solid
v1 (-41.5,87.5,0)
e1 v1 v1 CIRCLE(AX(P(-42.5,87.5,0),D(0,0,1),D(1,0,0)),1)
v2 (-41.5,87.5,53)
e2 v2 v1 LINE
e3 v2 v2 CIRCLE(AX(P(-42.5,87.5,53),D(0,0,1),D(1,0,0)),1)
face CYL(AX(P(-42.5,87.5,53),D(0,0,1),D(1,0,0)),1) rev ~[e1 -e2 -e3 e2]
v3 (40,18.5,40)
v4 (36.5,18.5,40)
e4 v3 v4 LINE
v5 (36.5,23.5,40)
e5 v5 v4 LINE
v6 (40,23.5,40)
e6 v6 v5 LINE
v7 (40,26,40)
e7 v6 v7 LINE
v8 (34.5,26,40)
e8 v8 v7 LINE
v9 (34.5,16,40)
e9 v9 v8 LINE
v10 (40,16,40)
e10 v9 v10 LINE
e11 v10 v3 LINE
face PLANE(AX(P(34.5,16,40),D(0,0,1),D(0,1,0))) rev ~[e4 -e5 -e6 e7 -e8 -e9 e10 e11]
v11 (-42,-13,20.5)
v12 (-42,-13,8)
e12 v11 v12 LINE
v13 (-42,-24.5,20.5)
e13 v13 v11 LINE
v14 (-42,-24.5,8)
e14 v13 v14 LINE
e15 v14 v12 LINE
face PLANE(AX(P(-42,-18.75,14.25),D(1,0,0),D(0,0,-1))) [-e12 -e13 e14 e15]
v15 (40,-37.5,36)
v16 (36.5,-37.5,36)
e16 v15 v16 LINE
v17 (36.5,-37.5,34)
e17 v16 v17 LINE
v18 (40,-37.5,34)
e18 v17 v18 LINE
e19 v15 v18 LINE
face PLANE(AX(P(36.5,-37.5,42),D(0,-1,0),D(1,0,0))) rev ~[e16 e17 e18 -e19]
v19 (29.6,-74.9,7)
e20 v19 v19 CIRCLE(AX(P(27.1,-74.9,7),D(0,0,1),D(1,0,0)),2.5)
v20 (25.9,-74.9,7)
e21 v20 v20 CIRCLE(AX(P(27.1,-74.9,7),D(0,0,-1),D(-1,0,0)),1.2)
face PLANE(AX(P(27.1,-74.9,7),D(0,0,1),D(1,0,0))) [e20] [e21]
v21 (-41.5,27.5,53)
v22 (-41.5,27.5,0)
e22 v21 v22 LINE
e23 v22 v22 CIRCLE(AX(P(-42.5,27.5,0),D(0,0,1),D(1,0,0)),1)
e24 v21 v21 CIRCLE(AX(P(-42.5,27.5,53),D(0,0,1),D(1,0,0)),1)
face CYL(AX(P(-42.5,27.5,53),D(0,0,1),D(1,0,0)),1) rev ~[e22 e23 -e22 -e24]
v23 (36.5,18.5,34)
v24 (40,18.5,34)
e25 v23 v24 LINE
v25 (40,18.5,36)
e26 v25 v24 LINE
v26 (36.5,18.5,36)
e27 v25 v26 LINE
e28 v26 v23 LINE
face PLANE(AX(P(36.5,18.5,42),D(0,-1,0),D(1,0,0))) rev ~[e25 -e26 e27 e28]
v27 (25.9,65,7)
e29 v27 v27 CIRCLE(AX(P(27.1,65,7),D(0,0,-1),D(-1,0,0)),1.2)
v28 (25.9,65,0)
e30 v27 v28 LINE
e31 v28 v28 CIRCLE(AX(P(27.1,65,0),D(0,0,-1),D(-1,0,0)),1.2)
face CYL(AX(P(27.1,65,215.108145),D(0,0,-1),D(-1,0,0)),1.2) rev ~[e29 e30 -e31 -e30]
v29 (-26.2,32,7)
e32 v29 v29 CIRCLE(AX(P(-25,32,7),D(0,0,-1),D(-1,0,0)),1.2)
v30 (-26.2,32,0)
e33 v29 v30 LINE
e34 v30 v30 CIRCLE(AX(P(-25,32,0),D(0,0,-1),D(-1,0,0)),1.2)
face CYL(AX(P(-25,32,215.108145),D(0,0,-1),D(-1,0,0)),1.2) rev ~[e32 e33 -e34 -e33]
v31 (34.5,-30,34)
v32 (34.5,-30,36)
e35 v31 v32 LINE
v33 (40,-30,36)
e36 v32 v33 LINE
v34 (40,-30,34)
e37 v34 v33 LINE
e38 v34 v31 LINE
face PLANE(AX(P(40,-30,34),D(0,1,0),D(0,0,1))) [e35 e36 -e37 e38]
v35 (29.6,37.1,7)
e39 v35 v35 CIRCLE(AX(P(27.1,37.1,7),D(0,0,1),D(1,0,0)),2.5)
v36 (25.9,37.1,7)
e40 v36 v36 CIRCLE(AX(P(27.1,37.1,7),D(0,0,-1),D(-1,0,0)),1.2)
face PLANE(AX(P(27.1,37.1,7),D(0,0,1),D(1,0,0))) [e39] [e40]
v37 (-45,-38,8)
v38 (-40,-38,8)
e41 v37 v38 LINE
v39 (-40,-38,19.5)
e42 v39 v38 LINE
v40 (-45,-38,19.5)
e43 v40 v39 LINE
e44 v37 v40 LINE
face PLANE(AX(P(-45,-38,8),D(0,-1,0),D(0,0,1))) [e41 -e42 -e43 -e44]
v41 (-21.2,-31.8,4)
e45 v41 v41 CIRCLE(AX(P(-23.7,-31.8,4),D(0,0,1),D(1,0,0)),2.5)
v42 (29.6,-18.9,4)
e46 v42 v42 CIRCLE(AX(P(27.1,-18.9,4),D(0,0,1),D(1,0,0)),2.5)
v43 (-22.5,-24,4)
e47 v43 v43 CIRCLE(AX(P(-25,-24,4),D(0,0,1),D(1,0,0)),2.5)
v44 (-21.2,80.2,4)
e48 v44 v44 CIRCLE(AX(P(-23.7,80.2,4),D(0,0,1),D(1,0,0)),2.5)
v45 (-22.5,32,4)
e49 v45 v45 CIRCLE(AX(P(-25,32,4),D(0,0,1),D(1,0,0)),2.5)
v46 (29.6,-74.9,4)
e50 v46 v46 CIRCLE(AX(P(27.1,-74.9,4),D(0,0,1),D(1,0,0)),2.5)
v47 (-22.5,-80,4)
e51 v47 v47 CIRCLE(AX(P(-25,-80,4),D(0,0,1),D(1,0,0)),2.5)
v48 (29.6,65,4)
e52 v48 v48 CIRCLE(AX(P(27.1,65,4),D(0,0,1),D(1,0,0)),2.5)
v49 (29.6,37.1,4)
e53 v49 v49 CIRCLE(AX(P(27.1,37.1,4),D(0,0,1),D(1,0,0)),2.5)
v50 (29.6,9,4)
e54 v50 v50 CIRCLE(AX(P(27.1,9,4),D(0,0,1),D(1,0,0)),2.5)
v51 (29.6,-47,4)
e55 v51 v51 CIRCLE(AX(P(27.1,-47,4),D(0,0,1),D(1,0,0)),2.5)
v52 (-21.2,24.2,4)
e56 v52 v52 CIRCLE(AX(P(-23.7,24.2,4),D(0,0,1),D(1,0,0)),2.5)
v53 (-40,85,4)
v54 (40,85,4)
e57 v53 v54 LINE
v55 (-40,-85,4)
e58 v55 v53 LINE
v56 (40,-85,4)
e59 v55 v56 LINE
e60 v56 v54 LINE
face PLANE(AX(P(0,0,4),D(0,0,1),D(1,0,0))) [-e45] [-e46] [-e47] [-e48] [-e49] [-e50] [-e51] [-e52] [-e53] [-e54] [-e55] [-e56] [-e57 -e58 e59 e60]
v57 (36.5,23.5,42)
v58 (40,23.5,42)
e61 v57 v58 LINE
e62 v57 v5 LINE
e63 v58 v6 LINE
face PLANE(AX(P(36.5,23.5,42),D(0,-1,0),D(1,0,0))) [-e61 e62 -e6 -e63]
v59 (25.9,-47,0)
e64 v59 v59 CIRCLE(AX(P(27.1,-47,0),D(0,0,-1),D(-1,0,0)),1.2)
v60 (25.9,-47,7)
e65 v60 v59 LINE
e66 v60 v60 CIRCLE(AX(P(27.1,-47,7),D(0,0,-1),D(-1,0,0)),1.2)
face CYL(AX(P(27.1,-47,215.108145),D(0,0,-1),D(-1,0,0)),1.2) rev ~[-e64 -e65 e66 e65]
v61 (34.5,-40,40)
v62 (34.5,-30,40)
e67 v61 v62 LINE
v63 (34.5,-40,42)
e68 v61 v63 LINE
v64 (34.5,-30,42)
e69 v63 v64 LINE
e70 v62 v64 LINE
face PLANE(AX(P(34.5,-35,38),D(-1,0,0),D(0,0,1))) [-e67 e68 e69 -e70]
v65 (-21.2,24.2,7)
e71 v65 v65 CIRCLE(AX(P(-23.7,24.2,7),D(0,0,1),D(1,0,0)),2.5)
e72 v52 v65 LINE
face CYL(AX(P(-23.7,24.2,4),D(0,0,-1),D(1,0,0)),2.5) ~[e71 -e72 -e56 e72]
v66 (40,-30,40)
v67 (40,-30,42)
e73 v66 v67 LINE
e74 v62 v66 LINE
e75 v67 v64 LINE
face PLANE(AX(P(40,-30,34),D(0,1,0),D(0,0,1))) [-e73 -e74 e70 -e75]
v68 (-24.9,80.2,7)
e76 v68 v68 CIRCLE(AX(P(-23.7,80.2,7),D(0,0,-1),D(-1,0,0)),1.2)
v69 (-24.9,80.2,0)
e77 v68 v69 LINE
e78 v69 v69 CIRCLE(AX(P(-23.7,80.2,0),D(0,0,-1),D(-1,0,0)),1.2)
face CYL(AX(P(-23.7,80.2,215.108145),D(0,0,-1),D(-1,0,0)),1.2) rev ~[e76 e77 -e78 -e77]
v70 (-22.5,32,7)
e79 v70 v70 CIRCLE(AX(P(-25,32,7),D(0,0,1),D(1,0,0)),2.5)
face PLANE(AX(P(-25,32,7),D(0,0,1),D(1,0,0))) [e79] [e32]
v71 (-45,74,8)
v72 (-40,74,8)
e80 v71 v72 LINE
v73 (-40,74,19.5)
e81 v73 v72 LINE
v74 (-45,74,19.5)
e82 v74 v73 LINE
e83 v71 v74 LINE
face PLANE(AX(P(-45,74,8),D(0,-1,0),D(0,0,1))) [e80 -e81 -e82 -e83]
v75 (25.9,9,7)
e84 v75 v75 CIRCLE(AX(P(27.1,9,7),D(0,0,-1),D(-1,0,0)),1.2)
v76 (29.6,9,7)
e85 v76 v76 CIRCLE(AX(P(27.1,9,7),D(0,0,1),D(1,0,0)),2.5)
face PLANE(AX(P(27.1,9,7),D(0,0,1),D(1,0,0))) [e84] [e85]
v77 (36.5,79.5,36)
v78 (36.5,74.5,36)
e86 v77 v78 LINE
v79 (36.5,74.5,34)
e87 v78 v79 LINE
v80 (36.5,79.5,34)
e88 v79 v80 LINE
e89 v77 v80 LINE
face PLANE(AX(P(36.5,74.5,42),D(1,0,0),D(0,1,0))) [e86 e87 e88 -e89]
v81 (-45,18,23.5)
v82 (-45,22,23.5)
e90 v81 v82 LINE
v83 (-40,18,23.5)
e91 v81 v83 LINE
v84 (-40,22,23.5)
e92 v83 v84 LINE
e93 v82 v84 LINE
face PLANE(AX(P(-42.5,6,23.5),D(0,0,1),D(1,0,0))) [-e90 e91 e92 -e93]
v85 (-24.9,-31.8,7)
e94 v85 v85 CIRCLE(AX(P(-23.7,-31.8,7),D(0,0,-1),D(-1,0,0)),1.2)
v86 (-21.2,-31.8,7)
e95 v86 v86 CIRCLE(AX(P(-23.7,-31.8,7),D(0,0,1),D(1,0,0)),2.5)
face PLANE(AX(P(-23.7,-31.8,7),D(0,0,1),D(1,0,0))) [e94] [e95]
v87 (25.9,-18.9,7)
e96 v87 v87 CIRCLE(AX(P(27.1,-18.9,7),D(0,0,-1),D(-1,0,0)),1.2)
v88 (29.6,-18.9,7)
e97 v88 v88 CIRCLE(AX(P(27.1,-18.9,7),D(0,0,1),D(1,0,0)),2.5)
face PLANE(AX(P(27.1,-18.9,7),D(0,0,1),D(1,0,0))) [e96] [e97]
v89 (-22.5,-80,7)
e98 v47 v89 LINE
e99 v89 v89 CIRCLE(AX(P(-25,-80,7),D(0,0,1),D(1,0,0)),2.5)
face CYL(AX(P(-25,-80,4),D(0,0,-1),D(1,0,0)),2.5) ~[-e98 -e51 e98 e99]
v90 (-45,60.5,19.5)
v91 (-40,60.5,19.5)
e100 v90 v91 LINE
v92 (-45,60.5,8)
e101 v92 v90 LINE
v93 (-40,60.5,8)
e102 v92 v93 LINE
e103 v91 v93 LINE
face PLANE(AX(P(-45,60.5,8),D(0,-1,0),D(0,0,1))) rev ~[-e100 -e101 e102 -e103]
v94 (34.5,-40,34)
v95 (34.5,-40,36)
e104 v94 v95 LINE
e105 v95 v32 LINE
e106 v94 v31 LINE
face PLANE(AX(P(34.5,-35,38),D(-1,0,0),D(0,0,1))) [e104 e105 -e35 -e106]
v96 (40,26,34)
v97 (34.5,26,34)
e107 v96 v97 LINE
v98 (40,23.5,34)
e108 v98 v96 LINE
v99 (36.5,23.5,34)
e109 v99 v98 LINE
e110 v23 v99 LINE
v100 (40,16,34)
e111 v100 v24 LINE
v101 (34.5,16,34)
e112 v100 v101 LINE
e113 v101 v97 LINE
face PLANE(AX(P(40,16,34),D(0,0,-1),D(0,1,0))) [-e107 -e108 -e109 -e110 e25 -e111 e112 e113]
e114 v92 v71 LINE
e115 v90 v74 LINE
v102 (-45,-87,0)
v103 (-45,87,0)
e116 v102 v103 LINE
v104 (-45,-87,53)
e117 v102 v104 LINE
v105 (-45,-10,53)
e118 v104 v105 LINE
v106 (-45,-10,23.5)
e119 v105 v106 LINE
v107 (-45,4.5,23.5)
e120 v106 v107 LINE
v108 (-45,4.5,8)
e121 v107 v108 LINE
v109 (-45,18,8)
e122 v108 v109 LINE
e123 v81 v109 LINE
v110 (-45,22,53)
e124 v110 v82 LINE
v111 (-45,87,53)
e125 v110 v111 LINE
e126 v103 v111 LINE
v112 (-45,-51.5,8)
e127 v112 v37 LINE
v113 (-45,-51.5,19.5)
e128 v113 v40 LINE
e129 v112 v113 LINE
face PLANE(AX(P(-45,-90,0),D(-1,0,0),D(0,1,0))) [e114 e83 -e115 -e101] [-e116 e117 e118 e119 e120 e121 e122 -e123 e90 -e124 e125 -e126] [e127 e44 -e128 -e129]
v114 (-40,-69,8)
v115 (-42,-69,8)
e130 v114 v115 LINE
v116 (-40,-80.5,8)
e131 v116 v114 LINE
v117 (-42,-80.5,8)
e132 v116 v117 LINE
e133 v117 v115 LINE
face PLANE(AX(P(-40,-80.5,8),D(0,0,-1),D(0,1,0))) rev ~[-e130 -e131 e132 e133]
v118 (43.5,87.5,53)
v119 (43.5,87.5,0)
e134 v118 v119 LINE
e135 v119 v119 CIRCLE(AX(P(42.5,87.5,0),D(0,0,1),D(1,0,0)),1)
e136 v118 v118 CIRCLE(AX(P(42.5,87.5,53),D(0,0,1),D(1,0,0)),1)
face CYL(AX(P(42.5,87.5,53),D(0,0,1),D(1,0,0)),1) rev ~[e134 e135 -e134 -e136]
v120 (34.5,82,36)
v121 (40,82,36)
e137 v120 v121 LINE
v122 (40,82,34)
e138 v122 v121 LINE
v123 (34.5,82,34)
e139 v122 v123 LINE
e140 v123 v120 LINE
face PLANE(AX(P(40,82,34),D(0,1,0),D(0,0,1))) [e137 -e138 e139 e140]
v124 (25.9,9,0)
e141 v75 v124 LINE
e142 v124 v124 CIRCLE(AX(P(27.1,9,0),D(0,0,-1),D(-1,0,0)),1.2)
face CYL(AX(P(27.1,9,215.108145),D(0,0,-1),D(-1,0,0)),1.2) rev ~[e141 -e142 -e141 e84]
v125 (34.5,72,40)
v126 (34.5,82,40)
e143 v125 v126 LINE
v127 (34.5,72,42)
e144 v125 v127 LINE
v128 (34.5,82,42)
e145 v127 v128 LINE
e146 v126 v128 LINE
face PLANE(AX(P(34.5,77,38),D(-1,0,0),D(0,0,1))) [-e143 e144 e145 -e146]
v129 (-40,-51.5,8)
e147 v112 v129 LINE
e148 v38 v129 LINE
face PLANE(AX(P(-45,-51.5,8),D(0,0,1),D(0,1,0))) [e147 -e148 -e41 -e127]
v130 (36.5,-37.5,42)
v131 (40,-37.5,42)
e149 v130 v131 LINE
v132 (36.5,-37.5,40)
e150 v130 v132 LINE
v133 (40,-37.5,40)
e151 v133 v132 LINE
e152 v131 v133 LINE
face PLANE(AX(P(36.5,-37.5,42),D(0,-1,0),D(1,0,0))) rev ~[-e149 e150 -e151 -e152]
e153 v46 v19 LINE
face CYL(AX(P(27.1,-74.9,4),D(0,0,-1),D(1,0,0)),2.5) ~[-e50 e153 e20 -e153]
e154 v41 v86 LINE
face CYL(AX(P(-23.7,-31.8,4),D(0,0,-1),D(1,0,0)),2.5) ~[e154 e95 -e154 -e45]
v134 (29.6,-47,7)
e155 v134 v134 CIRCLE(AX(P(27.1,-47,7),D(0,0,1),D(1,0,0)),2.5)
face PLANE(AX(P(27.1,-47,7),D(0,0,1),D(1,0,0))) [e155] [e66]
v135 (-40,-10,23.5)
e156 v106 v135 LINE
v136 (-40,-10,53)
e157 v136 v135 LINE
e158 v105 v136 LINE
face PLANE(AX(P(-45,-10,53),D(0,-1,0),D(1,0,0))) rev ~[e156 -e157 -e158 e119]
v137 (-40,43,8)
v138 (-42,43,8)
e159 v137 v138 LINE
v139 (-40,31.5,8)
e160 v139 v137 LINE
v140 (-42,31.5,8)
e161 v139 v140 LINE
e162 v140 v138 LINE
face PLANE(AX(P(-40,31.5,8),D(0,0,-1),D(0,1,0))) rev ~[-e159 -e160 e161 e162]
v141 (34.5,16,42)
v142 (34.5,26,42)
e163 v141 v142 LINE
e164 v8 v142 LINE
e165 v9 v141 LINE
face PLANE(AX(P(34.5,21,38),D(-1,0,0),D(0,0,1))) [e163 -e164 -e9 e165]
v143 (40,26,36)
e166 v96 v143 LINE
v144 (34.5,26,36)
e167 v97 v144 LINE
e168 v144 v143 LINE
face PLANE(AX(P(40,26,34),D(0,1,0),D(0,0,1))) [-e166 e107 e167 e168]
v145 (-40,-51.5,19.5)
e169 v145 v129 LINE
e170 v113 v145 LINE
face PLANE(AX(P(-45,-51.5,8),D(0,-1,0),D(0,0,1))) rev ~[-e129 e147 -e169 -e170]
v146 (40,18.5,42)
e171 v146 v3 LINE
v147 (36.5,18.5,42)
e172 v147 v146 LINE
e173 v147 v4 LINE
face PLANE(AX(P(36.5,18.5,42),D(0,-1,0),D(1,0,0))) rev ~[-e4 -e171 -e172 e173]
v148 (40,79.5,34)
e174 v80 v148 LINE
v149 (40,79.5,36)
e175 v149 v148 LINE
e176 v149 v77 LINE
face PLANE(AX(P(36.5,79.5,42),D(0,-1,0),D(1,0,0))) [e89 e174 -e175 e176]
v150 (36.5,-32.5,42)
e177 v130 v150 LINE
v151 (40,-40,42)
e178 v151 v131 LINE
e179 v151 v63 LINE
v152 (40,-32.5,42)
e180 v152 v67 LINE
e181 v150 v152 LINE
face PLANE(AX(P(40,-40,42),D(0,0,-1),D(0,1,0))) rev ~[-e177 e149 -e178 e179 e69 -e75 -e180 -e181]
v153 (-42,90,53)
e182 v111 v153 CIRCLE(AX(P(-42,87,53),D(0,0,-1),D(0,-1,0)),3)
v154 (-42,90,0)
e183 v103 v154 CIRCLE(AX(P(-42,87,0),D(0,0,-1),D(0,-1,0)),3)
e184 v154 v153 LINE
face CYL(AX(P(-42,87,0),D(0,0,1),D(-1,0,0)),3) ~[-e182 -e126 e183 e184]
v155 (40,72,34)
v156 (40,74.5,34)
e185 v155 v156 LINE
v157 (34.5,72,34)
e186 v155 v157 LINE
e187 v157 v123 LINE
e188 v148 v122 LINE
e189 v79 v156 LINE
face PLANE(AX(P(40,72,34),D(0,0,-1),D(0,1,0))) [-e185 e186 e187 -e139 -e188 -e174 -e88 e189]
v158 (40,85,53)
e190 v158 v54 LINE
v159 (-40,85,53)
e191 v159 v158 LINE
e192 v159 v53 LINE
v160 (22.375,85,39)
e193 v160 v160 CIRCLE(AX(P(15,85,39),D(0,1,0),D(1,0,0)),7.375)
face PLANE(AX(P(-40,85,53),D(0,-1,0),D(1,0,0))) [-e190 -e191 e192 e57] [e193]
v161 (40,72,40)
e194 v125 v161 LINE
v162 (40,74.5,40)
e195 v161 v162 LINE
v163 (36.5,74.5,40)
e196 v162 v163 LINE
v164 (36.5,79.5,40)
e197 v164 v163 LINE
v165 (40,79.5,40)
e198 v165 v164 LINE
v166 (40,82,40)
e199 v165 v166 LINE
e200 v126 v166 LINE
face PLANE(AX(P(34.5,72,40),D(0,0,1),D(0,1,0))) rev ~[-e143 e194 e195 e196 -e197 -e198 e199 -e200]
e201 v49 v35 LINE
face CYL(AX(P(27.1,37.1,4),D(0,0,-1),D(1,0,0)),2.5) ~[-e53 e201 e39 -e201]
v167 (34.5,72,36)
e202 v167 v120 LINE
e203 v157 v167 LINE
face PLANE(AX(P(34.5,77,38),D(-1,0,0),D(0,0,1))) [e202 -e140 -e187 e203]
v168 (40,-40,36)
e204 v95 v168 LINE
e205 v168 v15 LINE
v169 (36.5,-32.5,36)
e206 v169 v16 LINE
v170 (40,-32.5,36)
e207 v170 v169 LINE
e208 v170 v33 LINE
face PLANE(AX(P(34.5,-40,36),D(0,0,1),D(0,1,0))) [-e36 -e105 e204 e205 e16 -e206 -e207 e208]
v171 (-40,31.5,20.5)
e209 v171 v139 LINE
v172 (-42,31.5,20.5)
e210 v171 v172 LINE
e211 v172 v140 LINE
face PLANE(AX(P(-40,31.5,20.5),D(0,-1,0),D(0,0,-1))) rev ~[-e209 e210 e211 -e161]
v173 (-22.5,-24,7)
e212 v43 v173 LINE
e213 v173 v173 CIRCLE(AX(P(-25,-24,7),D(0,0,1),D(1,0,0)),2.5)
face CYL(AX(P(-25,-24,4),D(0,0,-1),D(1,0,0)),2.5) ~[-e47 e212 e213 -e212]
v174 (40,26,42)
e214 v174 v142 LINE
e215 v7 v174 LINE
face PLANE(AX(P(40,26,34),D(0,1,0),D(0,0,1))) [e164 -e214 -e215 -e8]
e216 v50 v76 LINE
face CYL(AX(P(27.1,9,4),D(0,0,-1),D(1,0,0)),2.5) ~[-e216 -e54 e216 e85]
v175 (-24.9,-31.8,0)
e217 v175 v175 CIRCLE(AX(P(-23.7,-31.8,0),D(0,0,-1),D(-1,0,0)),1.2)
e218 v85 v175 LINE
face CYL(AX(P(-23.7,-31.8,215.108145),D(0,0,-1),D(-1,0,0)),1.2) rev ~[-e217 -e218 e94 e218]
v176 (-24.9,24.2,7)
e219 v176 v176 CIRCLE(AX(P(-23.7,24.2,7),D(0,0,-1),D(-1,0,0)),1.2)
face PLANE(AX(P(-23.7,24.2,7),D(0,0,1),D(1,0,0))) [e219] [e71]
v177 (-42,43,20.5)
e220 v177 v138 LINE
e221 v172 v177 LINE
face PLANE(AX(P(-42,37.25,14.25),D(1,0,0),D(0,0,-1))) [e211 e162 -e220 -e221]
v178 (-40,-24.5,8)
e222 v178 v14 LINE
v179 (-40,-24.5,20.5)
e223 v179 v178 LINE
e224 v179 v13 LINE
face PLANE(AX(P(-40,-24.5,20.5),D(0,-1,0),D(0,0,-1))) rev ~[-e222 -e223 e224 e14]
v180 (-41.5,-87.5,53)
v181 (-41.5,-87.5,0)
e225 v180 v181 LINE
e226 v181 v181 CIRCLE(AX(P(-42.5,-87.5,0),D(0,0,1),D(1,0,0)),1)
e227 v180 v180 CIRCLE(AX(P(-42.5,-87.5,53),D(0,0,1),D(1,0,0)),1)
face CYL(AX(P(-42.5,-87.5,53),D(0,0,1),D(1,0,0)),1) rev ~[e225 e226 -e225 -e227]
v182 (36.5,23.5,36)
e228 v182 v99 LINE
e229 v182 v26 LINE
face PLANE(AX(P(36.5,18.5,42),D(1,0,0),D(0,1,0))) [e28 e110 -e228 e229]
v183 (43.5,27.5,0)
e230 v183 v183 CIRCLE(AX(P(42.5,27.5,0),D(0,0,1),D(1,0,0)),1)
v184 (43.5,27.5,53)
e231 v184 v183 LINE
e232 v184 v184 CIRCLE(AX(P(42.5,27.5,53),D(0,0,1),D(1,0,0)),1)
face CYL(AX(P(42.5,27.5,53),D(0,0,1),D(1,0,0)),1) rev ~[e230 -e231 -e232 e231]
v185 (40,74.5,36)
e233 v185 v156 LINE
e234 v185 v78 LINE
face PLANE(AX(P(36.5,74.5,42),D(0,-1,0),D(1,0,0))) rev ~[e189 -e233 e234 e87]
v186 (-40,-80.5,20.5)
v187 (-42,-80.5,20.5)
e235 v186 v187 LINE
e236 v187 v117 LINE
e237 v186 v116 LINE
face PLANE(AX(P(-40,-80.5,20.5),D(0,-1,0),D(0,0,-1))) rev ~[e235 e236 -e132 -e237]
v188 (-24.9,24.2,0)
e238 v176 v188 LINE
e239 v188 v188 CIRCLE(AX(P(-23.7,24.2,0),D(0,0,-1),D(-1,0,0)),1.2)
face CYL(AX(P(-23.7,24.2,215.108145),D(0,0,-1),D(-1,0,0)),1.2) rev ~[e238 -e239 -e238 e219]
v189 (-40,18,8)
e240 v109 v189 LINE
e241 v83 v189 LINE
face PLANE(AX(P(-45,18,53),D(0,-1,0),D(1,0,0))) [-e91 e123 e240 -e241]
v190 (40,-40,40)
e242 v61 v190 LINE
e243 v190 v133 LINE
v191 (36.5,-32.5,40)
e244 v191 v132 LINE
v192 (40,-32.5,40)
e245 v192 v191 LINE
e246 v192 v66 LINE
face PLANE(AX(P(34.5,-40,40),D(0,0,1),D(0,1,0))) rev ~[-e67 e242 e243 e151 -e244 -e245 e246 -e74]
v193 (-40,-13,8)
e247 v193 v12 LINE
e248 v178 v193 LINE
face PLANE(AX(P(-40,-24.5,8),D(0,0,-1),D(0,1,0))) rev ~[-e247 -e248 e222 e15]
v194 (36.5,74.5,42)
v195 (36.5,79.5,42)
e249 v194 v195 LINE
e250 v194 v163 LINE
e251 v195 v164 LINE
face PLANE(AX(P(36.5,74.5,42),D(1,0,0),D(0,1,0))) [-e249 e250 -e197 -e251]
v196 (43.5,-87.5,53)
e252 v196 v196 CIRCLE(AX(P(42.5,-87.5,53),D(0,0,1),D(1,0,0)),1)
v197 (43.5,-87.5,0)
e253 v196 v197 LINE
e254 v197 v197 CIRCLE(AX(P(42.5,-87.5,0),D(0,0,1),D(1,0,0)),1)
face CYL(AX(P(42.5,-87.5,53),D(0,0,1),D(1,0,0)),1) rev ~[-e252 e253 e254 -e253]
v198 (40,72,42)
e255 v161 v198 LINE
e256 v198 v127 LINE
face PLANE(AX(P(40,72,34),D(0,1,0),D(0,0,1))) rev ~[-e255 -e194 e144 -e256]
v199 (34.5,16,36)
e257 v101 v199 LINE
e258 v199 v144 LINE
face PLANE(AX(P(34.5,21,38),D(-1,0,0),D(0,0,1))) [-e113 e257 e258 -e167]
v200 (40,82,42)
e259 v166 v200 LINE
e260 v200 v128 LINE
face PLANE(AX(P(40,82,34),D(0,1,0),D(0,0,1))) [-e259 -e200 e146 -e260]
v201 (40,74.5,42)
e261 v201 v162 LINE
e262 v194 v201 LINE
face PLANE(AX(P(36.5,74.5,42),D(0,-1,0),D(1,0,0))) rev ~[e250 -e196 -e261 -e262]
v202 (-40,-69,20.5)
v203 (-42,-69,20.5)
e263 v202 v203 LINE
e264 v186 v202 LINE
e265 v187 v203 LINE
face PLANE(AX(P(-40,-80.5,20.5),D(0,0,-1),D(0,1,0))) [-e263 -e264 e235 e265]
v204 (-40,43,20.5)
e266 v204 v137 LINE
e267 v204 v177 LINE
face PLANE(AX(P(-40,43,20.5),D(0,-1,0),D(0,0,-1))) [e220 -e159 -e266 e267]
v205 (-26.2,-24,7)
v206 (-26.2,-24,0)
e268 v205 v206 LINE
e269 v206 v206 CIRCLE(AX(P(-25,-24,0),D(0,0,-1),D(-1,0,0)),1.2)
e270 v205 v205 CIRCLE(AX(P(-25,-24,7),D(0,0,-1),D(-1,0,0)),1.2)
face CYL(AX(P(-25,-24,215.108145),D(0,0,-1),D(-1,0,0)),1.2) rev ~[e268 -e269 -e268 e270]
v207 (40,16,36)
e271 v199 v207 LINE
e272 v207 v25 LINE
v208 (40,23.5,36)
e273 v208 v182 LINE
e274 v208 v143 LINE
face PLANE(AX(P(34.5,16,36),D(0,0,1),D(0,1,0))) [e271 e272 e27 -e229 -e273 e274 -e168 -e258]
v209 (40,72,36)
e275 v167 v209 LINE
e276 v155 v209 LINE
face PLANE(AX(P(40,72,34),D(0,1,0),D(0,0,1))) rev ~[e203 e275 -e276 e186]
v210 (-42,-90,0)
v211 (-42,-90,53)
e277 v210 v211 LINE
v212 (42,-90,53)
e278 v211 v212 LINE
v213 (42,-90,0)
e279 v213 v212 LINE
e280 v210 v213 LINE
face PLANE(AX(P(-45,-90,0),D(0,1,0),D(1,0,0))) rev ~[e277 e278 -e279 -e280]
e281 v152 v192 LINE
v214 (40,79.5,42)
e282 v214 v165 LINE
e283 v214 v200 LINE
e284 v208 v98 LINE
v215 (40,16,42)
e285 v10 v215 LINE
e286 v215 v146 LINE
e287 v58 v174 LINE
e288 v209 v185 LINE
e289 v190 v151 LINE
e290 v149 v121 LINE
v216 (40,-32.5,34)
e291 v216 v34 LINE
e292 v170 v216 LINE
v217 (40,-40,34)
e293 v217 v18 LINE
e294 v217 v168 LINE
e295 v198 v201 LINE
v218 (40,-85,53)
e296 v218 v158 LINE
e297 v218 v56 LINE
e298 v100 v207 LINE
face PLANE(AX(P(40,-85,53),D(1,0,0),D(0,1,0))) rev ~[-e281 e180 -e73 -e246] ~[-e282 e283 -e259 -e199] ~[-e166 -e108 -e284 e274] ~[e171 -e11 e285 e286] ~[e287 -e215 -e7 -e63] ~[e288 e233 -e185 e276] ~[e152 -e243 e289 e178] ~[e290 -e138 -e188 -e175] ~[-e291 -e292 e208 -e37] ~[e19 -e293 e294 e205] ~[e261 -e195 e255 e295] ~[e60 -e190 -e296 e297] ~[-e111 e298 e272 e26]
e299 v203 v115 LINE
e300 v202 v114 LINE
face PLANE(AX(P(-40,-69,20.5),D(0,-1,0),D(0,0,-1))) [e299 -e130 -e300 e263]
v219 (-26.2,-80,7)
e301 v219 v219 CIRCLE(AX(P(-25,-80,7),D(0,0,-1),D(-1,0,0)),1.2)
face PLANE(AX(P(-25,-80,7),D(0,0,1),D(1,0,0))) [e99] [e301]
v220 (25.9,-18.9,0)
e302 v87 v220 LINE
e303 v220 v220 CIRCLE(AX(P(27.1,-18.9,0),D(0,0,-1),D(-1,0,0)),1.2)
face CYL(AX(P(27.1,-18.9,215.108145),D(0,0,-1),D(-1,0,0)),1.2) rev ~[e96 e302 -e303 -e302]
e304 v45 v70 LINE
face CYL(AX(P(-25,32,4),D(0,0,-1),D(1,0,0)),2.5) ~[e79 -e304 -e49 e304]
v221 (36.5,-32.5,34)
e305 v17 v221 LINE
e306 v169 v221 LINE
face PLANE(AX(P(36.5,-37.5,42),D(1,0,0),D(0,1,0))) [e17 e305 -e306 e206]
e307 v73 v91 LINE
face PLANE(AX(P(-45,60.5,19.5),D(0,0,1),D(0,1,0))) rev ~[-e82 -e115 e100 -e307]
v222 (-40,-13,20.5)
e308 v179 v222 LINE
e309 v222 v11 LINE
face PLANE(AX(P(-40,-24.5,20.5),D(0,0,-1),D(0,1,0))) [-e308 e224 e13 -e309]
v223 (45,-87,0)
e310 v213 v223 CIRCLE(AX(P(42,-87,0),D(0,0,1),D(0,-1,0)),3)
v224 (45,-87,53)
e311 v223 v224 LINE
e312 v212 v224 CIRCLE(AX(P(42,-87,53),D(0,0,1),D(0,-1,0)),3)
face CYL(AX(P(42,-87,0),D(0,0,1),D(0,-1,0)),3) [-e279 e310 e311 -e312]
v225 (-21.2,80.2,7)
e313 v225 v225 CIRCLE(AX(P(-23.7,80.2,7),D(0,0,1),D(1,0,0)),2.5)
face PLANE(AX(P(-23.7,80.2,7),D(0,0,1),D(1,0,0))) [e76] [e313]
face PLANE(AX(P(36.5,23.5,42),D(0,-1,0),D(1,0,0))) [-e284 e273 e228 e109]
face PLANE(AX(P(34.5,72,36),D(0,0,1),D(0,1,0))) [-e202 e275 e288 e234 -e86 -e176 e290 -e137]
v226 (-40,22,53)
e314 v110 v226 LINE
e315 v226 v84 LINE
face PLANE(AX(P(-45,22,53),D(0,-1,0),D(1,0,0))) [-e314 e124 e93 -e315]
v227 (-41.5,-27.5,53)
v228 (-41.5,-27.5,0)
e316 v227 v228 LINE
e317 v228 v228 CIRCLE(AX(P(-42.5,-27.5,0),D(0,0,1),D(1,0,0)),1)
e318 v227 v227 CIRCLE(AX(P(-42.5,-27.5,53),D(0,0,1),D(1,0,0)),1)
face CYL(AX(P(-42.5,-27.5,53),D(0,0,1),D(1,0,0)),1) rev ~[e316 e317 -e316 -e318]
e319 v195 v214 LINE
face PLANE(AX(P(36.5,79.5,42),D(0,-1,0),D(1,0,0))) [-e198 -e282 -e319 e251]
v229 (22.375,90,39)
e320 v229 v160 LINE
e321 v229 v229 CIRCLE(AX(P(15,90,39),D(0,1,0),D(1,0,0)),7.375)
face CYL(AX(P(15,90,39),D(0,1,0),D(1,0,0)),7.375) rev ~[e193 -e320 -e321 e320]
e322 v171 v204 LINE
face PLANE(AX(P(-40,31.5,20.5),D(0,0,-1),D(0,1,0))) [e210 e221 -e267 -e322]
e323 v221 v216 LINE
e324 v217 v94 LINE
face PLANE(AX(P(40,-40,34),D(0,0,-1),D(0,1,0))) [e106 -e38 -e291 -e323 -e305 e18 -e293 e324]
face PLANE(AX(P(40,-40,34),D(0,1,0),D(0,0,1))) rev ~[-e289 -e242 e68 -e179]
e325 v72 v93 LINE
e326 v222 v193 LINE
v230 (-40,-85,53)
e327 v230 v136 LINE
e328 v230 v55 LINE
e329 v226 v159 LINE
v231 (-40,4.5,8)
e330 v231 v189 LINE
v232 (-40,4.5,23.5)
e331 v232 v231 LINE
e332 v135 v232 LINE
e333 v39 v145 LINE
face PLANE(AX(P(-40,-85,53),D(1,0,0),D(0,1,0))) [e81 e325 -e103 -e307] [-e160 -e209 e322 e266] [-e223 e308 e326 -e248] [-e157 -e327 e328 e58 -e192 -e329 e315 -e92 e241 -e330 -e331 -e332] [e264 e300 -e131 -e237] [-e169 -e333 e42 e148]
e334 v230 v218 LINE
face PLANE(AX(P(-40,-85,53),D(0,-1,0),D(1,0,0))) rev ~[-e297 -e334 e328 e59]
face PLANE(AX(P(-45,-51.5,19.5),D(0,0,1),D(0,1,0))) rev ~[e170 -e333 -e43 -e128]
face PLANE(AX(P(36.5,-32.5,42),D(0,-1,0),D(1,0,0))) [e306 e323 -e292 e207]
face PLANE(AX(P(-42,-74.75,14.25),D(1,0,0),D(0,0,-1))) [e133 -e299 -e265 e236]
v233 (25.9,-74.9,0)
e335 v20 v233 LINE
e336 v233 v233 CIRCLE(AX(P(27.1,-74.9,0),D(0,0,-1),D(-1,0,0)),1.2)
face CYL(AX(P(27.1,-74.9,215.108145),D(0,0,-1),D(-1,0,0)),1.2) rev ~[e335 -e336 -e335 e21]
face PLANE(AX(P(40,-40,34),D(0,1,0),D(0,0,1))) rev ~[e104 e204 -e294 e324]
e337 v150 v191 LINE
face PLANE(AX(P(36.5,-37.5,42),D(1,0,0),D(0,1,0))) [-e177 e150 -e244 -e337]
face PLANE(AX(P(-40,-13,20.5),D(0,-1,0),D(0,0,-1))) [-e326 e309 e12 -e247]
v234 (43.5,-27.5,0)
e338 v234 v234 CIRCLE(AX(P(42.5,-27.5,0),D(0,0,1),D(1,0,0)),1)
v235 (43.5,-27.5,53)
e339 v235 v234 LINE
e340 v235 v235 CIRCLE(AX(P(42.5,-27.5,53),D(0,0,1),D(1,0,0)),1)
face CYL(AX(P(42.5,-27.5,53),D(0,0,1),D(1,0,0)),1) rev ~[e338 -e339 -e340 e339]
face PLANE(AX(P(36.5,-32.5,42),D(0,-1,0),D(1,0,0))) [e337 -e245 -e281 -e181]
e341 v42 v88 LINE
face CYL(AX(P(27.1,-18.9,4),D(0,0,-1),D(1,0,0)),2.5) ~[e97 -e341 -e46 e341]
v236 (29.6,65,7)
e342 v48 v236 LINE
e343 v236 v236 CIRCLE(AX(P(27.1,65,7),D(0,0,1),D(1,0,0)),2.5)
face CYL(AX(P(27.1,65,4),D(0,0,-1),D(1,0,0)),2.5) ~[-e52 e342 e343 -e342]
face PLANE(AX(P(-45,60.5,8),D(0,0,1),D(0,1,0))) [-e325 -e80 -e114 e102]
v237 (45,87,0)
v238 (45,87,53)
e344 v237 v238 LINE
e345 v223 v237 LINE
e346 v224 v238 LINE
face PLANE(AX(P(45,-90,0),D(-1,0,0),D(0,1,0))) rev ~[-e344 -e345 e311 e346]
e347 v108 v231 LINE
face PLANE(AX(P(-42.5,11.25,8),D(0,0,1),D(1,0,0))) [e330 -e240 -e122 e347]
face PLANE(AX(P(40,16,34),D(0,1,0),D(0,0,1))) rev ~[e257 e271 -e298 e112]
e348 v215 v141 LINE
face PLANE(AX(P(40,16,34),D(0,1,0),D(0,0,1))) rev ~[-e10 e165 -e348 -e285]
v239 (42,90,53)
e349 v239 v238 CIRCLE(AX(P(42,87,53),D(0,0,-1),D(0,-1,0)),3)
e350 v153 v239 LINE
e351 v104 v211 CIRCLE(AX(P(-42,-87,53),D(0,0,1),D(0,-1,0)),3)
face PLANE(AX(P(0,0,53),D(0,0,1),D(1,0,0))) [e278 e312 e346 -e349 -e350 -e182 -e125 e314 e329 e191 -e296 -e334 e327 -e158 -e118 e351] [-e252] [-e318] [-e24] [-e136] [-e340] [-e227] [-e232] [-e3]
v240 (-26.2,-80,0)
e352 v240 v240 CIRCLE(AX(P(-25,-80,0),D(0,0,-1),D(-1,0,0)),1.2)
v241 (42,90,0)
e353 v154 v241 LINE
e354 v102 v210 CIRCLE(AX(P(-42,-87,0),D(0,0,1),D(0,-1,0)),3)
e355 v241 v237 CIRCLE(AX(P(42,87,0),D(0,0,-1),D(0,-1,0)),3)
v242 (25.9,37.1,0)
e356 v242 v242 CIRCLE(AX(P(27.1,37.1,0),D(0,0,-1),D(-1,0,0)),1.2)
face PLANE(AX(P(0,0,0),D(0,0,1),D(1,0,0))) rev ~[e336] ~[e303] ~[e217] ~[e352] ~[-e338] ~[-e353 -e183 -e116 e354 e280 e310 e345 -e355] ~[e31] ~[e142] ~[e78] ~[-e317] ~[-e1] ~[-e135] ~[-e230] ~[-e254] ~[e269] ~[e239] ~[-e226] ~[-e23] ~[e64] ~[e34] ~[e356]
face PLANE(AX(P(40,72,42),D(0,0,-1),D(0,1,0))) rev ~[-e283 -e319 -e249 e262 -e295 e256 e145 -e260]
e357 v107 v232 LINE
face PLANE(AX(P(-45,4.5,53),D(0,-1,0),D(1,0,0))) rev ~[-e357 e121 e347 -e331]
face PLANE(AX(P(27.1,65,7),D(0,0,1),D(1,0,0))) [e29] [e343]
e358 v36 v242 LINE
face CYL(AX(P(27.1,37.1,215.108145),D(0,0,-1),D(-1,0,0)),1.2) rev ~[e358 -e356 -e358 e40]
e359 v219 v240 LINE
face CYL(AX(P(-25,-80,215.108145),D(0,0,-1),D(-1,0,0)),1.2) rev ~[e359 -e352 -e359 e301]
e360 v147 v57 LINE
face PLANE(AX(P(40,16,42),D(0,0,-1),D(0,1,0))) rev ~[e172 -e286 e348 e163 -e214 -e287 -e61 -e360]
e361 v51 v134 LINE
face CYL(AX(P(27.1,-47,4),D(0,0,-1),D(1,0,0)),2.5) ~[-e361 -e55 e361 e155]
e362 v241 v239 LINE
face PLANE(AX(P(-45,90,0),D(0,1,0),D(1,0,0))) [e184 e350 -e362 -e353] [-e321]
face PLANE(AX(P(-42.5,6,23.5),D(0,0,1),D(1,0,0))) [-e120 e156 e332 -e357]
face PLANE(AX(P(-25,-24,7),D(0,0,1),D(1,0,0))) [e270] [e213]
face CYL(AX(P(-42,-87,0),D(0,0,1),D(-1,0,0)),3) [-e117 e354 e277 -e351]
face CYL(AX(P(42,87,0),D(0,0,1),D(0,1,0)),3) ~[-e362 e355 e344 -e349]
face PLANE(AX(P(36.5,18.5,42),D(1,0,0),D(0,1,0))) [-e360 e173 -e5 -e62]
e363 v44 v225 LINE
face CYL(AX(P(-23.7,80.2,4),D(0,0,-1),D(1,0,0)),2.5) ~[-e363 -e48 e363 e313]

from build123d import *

# Parameters (mm, degrees)
SKETCH2_W            = 90
SKETCH2_H            = 180
BOSS_EXTRUDE1_DEPTH  = 53
SKETCH3_W            = 80
SKETCH3_H            = 170
CUT_EXTRUDE1_DEPTH   = 49
SKETCH6_R            = 2.5
BOSS_EXTRUDE2_DEPTH  = 3
M2_CLEARANCE_HOLE1_D = 2.4
SKETCH17_W           = 5
SKETCH17_H           = 32
CUT_EXTRUDE8_DEPTH   = 29.5
SKETCH19_W           = 5
SKETCH19_H           = 13.5
CUT_EXTRUDE9_DEPTH   = 45
FILLET2_R            = 3
LPATTERN1_COUNT      = 2
LPATTERN1_PITCH      = 56
LPATTERN2_COUNT      = 2
LPATTERN2_PITCH      = 56
SKETCH29_W           = 11.5
SKETCH29_H           = 13.5
CUT_EXTRUDE12_DEPTH  = 10
LPATTERN4_COUNT      = 2
LPATTERN4_PITCH      = 112
SKETCH32_W           = 12.5
SKETCH32_H           = 11.5
CUT_EXTRUDE13_DEPTH  = 2
LPATTERN5_COUNT      = 3
LPATTERN5_PITCH      = 56
SKETCH33_W           = 8
SKETCH33_H           = 10
BOSS_EXTRUDE3_DEPTH  = 5.5
CUT_EXTRUDE14_REACH  = 111.037
SKETCH34_W           = 3.5
SKETCH34_H           = 5
SKETCH35_W           = 4
SKETCH35_H           = 10
CUT_EXTRUDE15_DEPTH  = 5.5
LPATTERN6_COUNT      = 3
LPATTERN6_PITCH      = 56
SKETCH36_R           = 7.375
CUT_EXTRUDE16_DEPTH  = 10
SKETCH24_R           = 1
CUT_EXTRUDE17_DEPTH  = 114.727745076


with BuildPart() as part:
    # Sketch2 → Boss-Extrude1 (new body)
    with BuildSketch(Plane.XY):
        Rectangle(SKETCH2_W, SKETCH2_H)
    extrude(amount=BOSS_EXTRUDE1_DEPTH)

    # Sketch3 → Cut-Extrude1 (cut)
    with BuildSketch(Plane.XY.offset(53)):
        Rectangle(SKETCH3_W, SKETCH3_H)
    extrude(amount=-CUT_EXTRUDE1_DEPTH, mode=Mode.SUBTRACT)

    # Sketch6 → Boss-Extrude2 (add)
    with BuildSketch(Plane.XY.offset(4)):
        with Locations((-23.7, 24.2)):
            Circle(SKETCH6_R)
        with Locations((-25, -24)):
            Circle(SKETCH6_R)
        with Locations((27.1, 9)):
            Circle(SKETCH6_R)
        with Locations((27.1, -18.9)):
            Circle(SKETCH6_R)
    boss_extrude2 = extrude(amount=BOSS_EXTRUDE2_DEPTH)

    # M2 Clearance Hole1 (through all)
    with Locations(Plane.XY.offset(7)):
        with Locations((-23.7, 24.2), (27.1, 9), (27.1, -18.9), (-25, -24)):
            m2_clearance_hole1 = Hole(M2_CLEARANCE_HOLE1_D / 2)

    # Sketch17 → Cut-Extrude8 (cut)
    with BuildSketch(Plane.XY.offset(53)):
        with Locations((-42.5, 6)):
            Rectangle(SKETCH17_W, SKETCH17_H)
    extrude(amount=-CUT_EXTRUDE8_DEPTH, mode=Mode.SUBTRACT)

    # Sketch19 → Cut-Extrude9 (cut)
    with BuildSketch(Plane.XY.offset(53)):
        with Locations((-42.5, 11.25)):
            Rectangle(SKETCH19_W, SKETCH19_H)
    extrude(amount=-CUT_EXTRUDE9_DEPTH, mode=Mode.SUBTRACT)

    # Fillet2
    fillet2_edges = [part.edges().sort_by_distance(p)[0] for p in [
        (-45, 90, 26.5),
        (45, 90, 26.5),
        (45, -90, 26.5),
        (-45, -90, 26.5),
    ]]
    fillet(fillet2_edges, radius=FILLET2_R)

    # LPattern1: Boss-Extrude2, M2 Clearance Hole1 ×2
    with Locations(*[(0, i * LPATTERN1_PITCH, 0) for i in range(1, LPATTERN1_COUNT)]):
        add(boss_extrude2)
        add(m2_clearance_hole1, mode=Mode.SUBTRACT)

    # LPattern2: Boss-Extrude2, M2 Clearance Hole1 ×2
    with Locations(*[(0, -i * LPATTERN2_PITCH, 0) for i in range(1, LPATTERN2_COUNT)]):
        add(boss_extrude2)
        add(m2_clearance_hole1, mode=Mode.SUBTRACT)

    # Sketch29 → Cut-Extrude12 (cut)
    with BuildSketch(Plane.ZY.offset(45)):
        with Locations((13.75, 67.25)):
            Rectangle(SKETCH29_W, SKETCH29_H)
    cut_extrude12 = extrude(amount=-CUT_EXTRUDE12_DEPTH, mode=Mode.SUBTRACT)

    # LPattern4: Cut-Extrude12 ×2
    with Locations(*[(0, -i * LPATTERN4_PITCH, 0) for i in range(1, LPATTERN4_COUNT)]):
        add(cut_extrude12, mode=Mode.SUBTRACT)

    # Sketch32 → Cut-Extrude13 (cut)
    with BuildSketch(Plane(origin=(-40, 0, 0), x_dir=(0, 0, -1), z_dir=(1, 0, 0))):
        with Locations((-14.25, 37.25)):
            Rectangle(SKETCH32_W, SKETCH32_H)
    cut_extrude13 = extrude(amount=-CUT_EXTRUDE13_DEPTH, mode=Mode.SUBTRACT)

    # LPattern5: Cut-Extrude13 ×3
    with Locations(*[(0, -i * LPATTERN5_PITCH, 0) for i in range(1, LPATTERN5_COUNT)]):
        add(cut_extrude13, mode=Mode.SUBTRACT)

    # Sketch33 → Boss-Extrude3 (add)
    with BuildSketch(Plane.ZY.offset(-40)):
        with Locations((38, -35)):
            Rectangle(SKETCH33_W, SKETCH33_H)
    boss_extrude3 = extrude(amount=BOSS_EXTRUDE3_DEPTH)

    # Sketch34 → Cut-Extrude14 (cut, up to next)
    with BuildSketch(Plane.XY.offset(42), mode=Mode.PRIVATE) as cut_extrude14_sk1:
        with Locations((38.25, -35)):
            Rectangle(SKETCH34_W, SKETCH34_H)
    cut_extrude14_tool1 = extrude(cut_extrude14_sk1.sketch, amount=-CUT_EXTRUDE14_REACH, mode=Mode.PRIVATE) & part.part
    cut_extrude14 = cut_extrude14_tool1.solids().sort_by_distance((38.25, -35, 42))[0]
    add(cut_extrude14, mode=Mode.SUBTRACT)

    # Sketch35 → Cut-Extrude15 (cut)
    with BuildSketch(Plane.ZY.offset(-34.5)):
        with Locations((38, -35)):
            Rectangle(SKETCH35_W, SKETCH35_H)
    cut_extrude15 = extrude(amount=-CUT_EXTRUDE15_DEPTH, mode=Mode.SUBTRACT)

    # LPattern6: Boss-Extrude3, Cut-Extrude14, Cut-Extrude15 ×3
    with Locations(*[(0, i * LPATTERN6_PITCH, 0) for i in range(1, LPATTERN6_COUNT)]):
        add(boss_extrude3)
        add(cut_extrude14, mode=Mode.SUBTRACT)
        add(cut_extrude15, mode=Mode.SUBTRACT)

    # Sketch36 → Cut-Extrude16 (cut)
    with BuildSketch(Plane(origin=(0, 90, 0), x_dir=(1, 0, 0), z_dir=(0, 1, 0))):
        with Locations((15, -39)):
            Circle(SKETCH36_R)
    extrude(amount=-CUT_EXTRUDE16_DEPTH, mode=Mode.SUBTRACT)

    # Sketch24 → Cut-Extrude17 (cut, through all)
    with BuildSketch(Plane.XY.offset(53)):
        with Locations((-42.5, 87.5)):
            Circle(SKETCH24_R)
        with Locations((42.5, 87.5)):
            Circle(SKETCH24_R)
        with Locations((42.5, -87.5)):
            Circle(SKETCH24_R)
        with Locations((-42.5, -87.5)):
            Circle(SKETCH24_R)
        with Locations((-42.5, 27.5)):
            Circle(SKETCH24_R)
        with Locations((42.5, 27.5)):
            Circle(SKETCH24_R)
        with Locations((-42.5, -27.5)):
            Circle(SKETCH24_R)
        with Locations((42.5, -27.5)):
            Circle(SKETCH24_R)
    extrude(amount=-CUT_EXTRUDE17_DEPTH, mode=Mode.SUBTRACT)


solid = part.part
